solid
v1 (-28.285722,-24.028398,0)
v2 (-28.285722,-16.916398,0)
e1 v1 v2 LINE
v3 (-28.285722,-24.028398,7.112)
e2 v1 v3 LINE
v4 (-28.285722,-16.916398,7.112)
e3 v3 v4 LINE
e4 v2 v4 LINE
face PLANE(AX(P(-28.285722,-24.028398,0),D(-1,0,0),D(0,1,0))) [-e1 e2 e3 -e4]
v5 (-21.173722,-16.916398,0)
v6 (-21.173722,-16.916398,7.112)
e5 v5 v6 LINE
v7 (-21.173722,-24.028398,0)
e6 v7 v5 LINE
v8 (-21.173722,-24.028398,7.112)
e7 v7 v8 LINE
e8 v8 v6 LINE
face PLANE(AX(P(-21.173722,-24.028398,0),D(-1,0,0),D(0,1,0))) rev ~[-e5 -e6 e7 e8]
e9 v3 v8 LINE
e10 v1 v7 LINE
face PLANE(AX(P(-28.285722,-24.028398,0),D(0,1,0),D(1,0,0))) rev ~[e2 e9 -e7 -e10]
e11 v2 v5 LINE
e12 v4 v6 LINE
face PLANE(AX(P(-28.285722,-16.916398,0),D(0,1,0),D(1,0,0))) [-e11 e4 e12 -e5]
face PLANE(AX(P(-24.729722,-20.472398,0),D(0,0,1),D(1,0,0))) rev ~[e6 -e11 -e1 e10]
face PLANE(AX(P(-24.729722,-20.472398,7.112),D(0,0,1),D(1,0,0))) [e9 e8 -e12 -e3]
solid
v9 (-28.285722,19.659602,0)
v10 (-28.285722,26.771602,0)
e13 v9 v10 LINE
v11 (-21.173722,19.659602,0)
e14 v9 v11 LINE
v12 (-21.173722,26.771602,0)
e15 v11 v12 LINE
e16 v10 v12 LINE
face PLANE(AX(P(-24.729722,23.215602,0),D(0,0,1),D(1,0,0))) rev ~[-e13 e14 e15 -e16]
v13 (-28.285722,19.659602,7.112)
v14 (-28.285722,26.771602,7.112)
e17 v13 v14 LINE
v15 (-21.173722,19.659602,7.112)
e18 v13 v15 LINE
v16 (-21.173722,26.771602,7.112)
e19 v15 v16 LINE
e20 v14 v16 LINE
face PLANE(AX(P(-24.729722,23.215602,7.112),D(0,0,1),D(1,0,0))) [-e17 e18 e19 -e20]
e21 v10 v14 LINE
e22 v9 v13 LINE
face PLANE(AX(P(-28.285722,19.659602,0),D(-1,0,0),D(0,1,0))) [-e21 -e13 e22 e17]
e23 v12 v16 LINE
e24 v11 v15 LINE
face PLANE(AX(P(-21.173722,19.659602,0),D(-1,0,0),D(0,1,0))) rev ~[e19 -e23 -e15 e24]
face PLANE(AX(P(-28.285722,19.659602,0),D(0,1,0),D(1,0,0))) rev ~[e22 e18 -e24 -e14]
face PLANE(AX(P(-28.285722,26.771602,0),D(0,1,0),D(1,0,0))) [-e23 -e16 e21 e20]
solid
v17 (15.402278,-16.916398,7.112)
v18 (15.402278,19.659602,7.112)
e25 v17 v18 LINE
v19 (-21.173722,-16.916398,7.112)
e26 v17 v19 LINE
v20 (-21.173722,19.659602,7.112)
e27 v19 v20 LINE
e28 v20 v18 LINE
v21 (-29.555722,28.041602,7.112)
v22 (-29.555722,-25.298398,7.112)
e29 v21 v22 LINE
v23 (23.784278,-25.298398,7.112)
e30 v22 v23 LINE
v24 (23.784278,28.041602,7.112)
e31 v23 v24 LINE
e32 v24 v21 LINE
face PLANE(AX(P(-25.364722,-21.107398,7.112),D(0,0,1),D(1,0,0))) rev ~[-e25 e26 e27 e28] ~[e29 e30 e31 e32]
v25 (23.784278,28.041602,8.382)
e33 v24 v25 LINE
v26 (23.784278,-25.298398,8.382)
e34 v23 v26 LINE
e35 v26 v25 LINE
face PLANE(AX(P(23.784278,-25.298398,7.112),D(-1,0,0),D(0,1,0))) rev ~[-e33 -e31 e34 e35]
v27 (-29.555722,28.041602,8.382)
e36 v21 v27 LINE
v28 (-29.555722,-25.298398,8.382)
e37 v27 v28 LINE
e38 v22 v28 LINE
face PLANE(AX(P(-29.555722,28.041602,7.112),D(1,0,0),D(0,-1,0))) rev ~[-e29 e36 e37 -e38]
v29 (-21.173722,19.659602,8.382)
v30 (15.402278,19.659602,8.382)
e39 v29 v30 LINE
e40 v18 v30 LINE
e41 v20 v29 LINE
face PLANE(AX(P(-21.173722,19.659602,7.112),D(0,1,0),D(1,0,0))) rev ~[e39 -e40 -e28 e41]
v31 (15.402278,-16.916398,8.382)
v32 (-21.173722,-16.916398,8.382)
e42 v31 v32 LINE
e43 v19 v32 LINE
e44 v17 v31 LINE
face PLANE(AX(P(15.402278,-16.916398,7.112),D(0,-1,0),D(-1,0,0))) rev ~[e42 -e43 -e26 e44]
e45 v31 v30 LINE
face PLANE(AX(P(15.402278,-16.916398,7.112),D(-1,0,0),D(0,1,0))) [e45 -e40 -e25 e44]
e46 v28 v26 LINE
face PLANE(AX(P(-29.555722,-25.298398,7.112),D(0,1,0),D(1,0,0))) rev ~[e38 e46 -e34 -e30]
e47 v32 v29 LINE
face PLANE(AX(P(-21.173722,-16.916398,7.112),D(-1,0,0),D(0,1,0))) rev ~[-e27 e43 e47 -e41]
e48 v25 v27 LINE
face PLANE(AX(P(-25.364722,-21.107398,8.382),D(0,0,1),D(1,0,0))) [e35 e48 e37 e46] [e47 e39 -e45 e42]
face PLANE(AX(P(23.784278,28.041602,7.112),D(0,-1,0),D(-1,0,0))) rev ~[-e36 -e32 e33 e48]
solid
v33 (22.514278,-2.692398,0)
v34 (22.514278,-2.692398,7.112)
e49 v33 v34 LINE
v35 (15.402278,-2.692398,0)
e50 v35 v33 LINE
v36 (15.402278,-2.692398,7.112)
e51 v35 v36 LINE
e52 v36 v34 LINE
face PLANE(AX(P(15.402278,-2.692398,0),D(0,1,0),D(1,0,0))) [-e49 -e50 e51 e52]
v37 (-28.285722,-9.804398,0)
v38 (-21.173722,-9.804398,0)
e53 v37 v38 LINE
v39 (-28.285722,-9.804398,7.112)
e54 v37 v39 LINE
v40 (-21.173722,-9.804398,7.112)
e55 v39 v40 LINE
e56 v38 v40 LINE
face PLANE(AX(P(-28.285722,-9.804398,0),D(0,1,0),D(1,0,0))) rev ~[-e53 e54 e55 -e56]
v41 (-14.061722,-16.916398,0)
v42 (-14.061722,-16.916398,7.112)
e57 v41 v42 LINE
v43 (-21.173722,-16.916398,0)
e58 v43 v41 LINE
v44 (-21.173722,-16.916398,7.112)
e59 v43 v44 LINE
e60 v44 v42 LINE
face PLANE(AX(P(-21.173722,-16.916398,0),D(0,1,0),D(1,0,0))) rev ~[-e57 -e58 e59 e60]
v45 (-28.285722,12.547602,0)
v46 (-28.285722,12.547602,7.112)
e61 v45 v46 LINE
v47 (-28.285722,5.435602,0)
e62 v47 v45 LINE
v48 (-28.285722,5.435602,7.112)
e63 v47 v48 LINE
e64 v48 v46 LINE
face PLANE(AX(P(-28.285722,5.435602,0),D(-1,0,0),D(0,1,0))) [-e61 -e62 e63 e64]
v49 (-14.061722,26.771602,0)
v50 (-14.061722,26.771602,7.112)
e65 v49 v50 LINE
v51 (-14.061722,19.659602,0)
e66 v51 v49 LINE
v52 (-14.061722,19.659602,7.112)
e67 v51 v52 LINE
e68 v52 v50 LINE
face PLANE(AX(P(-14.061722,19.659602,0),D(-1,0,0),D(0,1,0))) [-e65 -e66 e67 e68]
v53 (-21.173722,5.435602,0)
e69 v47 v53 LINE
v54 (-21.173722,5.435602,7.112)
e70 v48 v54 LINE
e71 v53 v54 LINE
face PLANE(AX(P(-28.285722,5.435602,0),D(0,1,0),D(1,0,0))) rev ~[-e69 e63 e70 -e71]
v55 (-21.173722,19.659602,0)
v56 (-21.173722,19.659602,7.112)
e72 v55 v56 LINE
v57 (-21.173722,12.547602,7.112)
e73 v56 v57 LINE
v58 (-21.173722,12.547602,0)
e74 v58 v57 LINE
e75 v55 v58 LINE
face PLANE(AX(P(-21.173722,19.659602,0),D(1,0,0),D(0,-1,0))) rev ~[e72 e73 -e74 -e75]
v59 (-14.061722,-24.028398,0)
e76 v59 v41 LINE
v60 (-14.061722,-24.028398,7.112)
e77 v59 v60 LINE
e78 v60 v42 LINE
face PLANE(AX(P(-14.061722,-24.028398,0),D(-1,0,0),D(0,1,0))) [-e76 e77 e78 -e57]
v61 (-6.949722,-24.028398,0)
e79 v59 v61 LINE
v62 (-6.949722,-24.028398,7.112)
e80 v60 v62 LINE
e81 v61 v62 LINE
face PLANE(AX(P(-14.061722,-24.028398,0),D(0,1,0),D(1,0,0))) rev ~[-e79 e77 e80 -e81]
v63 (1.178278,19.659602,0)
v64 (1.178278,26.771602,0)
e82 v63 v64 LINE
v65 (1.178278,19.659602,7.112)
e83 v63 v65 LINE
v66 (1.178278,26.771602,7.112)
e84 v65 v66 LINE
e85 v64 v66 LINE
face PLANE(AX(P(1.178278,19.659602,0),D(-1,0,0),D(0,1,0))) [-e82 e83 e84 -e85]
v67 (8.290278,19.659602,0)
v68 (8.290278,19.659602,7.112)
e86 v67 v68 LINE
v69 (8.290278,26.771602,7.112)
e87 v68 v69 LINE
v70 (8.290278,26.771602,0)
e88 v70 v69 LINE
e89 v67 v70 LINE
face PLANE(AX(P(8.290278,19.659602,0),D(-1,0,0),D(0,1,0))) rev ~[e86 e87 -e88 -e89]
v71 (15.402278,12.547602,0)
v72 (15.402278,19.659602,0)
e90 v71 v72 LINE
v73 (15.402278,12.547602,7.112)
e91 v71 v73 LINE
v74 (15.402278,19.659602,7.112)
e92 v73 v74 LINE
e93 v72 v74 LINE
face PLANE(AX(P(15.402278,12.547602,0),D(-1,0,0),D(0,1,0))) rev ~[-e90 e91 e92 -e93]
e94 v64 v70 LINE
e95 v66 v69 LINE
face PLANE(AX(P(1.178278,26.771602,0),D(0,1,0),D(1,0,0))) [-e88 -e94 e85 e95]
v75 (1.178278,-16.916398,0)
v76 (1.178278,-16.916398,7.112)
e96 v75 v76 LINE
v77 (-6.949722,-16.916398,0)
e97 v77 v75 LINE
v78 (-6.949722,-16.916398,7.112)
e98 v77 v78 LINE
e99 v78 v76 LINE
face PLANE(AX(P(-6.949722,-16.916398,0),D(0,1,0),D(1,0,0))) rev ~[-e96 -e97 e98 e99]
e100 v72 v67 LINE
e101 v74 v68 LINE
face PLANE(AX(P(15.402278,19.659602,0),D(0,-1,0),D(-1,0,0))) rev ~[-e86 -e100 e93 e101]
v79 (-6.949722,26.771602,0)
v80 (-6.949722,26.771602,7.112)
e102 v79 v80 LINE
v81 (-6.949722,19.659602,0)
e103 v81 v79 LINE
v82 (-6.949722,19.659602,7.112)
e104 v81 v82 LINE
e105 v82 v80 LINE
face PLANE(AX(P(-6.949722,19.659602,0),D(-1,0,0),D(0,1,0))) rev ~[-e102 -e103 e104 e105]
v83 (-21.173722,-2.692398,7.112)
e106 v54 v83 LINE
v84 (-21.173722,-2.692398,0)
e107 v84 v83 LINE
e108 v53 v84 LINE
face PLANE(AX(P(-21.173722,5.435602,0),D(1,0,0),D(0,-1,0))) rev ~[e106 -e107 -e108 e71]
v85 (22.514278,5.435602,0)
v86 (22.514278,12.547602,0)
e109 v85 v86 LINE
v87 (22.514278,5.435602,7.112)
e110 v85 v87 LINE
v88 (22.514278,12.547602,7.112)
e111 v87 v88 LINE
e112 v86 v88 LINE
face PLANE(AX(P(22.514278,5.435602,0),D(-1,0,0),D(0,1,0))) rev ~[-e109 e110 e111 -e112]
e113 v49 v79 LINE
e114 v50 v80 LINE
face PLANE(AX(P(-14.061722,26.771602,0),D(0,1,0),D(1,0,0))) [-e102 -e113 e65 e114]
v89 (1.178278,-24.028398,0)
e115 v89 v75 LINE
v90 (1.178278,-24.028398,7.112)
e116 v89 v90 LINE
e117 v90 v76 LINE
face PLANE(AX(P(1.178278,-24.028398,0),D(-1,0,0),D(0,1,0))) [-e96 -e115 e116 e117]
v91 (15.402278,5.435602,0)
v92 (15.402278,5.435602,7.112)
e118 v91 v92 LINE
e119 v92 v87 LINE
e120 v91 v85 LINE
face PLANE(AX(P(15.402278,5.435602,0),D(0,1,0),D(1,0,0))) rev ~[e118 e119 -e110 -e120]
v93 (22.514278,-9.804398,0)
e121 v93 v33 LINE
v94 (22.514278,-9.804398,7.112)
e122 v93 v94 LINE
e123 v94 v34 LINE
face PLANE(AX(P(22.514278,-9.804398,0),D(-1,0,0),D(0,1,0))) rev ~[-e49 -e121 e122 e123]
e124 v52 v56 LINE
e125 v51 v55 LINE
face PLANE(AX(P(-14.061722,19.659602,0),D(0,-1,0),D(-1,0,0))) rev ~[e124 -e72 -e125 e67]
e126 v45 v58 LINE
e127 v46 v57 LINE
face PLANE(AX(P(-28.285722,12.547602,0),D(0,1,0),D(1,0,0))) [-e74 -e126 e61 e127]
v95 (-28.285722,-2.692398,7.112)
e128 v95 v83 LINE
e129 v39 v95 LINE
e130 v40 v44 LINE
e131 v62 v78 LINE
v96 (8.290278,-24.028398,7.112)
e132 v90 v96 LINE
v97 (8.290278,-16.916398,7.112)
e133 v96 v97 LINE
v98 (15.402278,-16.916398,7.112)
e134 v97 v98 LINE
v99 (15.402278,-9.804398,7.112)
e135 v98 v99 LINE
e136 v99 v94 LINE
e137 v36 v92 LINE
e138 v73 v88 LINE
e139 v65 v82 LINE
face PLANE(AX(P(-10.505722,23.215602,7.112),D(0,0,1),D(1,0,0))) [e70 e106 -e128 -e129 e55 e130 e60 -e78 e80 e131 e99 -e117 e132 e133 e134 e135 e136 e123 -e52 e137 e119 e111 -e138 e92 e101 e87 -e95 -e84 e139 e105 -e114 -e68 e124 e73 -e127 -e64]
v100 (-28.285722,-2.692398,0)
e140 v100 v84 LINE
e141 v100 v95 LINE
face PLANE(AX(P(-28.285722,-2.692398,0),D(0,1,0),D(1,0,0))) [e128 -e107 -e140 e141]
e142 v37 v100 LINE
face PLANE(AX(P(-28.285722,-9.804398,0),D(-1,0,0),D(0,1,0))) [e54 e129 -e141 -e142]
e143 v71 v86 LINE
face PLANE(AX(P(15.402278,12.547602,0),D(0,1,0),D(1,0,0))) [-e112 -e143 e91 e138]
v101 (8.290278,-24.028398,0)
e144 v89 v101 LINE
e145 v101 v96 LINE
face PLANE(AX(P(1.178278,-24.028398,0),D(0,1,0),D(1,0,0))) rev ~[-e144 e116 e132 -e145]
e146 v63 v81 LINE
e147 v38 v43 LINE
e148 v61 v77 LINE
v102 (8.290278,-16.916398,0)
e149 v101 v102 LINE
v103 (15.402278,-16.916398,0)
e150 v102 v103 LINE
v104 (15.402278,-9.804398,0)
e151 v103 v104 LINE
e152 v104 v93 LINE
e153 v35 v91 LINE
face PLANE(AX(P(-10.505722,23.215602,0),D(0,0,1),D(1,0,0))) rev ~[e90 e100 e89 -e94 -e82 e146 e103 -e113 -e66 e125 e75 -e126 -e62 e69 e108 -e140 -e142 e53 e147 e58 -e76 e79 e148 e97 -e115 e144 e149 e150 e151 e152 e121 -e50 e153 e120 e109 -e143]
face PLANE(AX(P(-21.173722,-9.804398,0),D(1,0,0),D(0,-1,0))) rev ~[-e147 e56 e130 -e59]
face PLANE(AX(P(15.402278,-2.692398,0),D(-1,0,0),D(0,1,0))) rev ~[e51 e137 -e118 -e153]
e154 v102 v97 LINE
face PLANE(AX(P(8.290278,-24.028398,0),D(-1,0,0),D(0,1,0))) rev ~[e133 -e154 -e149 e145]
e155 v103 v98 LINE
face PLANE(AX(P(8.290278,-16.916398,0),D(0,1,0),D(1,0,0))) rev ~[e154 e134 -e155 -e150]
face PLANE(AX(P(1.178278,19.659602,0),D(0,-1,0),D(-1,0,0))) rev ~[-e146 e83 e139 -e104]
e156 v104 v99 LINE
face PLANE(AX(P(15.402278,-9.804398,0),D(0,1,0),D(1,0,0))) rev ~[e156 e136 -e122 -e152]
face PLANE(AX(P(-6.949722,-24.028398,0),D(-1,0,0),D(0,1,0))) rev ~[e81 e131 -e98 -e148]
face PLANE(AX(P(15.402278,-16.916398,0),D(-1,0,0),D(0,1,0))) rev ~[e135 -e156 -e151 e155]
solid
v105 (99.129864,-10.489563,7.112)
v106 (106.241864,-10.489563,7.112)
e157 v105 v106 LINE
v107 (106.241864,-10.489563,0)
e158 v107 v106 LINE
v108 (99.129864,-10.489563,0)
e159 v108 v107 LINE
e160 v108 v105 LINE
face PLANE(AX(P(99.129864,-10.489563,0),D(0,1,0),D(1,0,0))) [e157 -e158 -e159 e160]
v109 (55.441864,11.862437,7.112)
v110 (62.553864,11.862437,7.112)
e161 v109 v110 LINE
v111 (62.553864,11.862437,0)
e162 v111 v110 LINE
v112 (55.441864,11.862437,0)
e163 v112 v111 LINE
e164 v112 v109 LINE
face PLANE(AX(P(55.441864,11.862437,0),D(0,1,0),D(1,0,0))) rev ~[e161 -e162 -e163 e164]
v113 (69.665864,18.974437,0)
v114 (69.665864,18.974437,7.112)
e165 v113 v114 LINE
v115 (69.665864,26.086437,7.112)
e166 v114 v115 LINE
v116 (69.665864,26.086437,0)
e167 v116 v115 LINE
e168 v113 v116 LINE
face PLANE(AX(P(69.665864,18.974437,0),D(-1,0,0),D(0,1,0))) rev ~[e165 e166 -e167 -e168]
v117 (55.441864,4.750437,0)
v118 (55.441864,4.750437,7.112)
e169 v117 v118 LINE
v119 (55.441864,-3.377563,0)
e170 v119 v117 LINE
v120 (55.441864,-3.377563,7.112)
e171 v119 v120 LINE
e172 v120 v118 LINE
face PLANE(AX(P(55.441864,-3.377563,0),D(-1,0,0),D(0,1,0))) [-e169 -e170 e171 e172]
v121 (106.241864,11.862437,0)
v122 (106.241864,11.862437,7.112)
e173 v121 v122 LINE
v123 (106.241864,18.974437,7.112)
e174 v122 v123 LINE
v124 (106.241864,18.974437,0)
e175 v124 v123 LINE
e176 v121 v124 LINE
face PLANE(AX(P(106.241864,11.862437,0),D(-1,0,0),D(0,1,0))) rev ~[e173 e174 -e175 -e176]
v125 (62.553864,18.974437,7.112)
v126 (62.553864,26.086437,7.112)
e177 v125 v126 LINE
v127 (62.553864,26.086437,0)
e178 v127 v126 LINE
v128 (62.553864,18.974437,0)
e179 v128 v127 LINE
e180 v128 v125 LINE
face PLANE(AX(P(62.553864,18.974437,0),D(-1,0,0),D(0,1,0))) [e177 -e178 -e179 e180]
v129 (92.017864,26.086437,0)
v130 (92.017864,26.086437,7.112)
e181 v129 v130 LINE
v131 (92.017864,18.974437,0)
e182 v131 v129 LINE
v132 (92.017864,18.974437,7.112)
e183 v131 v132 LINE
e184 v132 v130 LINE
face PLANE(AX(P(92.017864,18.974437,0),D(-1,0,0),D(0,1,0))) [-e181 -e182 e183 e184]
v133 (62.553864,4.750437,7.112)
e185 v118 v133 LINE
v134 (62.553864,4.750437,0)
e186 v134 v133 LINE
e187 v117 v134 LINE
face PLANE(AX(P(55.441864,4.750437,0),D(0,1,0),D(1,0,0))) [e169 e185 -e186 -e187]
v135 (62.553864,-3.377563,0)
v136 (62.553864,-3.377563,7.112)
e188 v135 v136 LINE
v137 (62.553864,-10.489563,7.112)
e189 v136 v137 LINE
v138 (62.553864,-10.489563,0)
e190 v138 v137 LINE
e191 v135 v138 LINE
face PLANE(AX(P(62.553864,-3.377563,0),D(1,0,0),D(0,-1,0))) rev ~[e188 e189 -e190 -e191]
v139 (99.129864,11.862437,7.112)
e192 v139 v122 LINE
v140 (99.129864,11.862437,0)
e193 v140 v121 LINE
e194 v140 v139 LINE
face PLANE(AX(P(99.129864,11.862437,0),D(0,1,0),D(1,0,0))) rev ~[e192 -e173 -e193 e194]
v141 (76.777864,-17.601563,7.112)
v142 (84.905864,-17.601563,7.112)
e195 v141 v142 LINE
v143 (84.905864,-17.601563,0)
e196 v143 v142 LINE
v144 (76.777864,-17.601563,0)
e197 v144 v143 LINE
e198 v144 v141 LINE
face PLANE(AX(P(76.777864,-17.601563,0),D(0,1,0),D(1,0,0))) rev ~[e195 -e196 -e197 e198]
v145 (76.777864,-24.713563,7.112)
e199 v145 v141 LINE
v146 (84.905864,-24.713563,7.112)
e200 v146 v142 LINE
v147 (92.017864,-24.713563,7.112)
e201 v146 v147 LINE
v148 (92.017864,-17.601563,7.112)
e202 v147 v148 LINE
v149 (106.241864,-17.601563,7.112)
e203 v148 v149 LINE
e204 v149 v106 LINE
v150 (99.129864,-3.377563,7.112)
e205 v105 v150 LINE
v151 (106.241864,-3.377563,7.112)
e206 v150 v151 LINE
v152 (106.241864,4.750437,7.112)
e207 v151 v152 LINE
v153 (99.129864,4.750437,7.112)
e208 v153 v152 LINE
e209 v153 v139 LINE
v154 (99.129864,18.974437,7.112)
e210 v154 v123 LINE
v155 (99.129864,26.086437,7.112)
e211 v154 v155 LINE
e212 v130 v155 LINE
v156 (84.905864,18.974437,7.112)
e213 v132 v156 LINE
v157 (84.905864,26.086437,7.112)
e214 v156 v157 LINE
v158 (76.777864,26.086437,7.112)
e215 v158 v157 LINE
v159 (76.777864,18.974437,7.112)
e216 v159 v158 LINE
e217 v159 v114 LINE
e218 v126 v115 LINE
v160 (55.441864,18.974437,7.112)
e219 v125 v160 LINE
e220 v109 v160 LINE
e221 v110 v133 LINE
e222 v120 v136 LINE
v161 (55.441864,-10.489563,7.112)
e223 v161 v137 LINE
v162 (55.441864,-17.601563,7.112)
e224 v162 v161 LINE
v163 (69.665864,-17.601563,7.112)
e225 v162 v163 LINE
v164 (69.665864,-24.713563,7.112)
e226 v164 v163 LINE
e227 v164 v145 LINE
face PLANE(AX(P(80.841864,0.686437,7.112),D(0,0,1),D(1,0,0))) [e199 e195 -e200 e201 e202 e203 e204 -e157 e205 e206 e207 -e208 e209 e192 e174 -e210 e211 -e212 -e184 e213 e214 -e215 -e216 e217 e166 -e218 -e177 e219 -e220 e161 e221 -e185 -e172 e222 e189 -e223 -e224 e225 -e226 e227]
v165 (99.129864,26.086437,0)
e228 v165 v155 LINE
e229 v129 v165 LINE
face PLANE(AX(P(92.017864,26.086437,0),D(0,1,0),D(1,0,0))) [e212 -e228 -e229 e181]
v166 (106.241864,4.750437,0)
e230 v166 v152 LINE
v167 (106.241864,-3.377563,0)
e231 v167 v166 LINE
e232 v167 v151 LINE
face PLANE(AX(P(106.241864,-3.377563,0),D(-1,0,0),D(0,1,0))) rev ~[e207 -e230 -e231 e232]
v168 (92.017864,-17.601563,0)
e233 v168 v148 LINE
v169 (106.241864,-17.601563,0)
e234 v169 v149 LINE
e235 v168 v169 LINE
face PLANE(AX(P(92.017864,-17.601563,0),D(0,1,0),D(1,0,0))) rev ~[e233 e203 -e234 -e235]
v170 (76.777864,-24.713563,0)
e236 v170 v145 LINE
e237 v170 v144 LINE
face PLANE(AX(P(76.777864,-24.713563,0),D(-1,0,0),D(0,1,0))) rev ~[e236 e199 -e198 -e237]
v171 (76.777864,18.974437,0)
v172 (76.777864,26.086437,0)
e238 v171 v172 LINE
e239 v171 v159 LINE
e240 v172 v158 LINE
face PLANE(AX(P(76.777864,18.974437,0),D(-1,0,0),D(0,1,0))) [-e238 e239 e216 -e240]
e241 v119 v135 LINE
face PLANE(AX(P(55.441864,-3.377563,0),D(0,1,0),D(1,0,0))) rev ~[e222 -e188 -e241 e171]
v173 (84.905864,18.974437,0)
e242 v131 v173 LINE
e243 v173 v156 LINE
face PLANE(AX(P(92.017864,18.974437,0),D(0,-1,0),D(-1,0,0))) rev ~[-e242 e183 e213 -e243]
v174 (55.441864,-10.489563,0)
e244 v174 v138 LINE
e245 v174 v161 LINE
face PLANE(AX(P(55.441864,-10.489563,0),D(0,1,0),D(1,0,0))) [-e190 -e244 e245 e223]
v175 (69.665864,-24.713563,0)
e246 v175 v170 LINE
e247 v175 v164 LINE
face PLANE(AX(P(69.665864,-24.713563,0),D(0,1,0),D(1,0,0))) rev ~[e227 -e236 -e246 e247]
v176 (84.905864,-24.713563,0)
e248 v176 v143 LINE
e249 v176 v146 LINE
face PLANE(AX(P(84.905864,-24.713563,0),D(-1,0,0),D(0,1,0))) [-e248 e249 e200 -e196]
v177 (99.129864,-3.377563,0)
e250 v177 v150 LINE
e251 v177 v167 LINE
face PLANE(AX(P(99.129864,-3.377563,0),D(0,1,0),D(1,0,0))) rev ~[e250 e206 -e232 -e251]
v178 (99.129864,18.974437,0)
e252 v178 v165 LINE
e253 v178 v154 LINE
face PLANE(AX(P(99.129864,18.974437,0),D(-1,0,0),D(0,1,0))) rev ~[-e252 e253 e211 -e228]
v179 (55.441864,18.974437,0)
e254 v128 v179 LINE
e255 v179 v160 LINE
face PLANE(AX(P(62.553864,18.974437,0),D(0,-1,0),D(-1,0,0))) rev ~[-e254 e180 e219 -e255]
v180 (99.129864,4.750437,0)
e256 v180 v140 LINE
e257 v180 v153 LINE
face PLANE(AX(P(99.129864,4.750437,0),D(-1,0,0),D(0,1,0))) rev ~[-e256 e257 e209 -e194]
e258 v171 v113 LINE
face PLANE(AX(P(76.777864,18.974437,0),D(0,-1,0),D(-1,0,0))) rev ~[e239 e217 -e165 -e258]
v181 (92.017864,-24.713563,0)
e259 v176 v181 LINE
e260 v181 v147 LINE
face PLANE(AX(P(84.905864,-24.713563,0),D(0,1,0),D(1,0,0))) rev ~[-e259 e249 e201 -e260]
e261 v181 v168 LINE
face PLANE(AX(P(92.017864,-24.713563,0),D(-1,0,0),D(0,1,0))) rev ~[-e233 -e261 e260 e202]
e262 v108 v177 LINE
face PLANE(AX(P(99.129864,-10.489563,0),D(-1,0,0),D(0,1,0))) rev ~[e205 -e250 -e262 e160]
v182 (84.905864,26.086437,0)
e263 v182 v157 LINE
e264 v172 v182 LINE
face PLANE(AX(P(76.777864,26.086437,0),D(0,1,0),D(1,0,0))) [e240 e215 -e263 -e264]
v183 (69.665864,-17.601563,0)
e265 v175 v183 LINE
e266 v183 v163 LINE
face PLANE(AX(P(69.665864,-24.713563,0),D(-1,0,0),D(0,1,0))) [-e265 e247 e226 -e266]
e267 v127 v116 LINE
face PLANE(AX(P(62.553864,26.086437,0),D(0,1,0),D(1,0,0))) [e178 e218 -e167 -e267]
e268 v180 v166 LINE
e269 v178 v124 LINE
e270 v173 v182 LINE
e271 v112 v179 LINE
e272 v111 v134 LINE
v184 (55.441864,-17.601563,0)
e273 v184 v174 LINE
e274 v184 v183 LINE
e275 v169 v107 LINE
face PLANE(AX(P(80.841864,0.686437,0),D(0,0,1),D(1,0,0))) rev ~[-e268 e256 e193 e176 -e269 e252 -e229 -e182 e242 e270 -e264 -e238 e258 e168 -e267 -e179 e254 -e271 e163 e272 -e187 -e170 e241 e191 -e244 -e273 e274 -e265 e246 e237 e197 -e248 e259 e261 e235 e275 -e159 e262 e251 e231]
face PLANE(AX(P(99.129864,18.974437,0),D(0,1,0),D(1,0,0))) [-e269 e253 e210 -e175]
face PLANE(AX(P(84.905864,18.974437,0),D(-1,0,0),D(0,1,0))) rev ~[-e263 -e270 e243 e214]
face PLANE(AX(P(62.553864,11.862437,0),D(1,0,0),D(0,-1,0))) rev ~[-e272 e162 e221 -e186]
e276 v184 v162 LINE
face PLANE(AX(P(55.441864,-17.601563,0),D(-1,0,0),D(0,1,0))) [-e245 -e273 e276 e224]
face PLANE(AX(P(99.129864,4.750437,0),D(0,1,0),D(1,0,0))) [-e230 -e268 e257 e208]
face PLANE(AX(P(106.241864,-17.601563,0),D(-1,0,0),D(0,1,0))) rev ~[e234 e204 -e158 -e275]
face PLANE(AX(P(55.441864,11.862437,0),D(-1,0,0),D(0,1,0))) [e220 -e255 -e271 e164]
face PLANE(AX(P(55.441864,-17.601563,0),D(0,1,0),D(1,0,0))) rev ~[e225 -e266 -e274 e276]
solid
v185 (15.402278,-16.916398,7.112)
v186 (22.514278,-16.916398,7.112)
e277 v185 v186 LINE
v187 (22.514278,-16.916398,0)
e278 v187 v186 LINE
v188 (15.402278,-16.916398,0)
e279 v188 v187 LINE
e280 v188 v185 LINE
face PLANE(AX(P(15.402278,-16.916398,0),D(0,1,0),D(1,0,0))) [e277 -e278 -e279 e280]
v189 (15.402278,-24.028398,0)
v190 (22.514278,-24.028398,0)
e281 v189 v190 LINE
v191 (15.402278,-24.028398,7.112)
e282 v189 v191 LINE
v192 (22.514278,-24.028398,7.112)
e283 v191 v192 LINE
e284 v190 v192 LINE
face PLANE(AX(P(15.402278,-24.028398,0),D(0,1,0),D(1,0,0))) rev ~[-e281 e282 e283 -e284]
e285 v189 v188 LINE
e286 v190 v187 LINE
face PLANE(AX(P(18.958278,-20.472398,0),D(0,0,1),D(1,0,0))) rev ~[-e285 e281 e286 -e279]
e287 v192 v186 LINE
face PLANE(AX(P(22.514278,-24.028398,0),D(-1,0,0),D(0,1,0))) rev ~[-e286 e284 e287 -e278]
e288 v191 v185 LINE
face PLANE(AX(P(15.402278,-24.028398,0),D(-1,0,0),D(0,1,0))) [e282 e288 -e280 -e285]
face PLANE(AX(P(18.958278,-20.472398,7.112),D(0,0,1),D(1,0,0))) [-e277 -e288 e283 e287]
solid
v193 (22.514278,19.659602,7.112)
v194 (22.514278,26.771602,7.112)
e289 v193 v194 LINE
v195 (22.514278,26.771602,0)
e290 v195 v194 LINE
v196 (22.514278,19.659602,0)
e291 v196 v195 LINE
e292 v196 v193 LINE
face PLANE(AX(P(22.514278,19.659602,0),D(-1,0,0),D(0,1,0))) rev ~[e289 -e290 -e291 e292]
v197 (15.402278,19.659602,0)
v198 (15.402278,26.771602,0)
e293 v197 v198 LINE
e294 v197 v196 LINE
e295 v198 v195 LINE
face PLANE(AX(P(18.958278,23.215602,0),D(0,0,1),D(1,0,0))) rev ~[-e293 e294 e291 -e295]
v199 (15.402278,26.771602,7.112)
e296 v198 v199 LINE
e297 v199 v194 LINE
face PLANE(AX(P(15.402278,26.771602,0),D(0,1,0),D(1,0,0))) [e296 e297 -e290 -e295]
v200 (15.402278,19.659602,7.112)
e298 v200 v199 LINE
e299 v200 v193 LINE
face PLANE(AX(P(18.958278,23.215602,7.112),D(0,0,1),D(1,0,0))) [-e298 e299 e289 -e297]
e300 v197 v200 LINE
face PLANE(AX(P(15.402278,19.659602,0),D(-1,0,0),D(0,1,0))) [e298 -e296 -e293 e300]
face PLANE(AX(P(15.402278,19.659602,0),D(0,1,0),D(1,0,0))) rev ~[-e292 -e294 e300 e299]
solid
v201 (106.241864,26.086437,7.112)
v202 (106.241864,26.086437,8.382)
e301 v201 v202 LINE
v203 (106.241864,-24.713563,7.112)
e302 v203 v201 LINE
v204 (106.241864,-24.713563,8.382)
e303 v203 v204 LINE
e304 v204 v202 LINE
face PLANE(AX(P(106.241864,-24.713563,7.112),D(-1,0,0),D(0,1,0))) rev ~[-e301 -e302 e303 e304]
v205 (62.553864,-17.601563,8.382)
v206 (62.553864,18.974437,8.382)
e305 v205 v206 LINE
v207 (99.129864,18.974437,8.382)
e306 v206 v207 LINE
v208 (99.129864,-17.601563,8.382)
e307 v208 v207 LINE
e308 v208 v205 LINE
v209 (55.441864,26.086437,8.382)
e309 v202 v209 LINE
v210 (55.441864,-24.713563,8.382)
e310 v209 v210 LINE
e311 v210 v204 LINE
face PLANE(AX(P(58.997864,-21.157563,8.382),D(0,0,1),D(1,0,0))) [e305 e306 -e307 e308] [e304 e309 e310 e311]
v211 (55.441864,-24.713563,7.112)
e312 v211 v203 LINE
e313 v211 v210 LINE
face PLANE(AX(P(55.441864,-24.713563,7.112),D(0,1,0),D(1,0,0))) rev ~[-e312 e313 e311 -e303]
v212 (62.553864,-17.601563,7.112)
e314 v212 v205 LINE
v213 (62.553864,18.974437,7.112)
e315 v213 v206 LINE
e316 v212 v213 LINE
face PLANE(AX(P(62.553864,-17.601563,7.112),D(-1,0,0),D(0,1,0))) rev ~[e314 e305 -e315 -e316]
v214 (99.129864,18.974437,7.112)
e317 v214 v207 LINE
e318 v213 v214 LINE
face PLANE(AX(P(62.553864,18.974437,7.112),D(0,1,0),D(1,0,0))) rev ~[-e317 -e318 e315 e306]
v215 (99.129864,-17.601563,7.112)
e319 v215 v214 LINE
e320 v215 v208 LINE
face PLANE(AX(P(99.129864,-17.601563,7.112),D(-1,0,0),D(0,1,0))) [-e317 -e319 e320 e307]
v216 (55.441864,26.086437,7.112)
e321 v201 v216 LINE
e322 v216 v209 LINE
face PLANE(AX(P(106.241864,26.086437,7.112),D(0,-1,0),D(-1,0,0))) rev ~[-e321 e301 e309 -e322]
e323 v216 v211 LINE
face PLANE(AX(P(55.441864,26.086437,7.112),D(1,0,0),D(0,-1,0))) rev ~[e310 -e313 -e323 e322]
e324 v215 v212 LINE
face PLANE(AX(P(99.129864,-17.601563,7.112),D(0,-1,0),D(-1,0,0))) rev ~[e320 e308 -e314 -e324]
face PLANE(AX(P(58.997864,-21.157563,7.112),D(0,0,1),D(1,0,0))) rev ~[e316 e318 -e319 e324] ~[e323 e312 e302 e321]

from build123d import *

# Parameters (mm, degrees)
F0_W     = 7.112
F0_H     = 7.112
F0_W_2   = 8.128
F0_H_2   = 8.128
F1_DEPTH = 7.112
F2_W     = 8.382
F2_H     = 8.382
F2_W_2   = 36.576
F2_H_2   = 36.576
F3_DEPTH = 1.27
F4_W     = 7.112
F4_H     = 7.112
F4_W_2   = 36.576
F4_H_2   = 36.576
F5_DEPTH = 1.27


with BuildPart() as f1:
    # F0 (on Top) → F1 (new body)
    with BuildSketch(Plane.XY):
        with Locations((-24.729722, 23.215602)):
            Rectangle(F0_W, F0_H)
        with Locations((-10.505722, 23.215602)):
            Rectangle(F0_W, F0_H)
        with Locations((4.734278, 23.215602)):
            Rectangle(F0_W, F0_H)
        with Locations((18.958278, 23.215602)):
            Rectangle(F0_W, F0_H)
        with Locations((18.958278, 8.991602)):
            Rectangle(F0_W, F0_H)
        with Locations((18.958278, -6.248398)):
            Rectangle(F0_W, F0_H)
        with Locations((18.958278, -20.472398)):
            Rectangle(F0_W, F0_H)
        with Locations((4.734278, -20.472398)):
            Rectangle(F0_W, F0_H)
        Polygon((-14.061722, 19.659602), (-21.173722, 19.659602), (-21.173722, 12.547602), (-21.173722, 5.435602), (-21.173722, -2.692398), (-21.173722, -9.804398), (-21.173722, -16.916398), (-14.061722, -16.916398), (-6.949722, -16.916398), (1.178278, -16.916398), (8.290278, -16.916398), (15.402278, -16.916398), (15.402278, -9.804398), (15.402278, -2.692398), (15.402278, 5.435602), (15.402278, 12.547602), (15.402278, 19.659602), (8.290278, 19.659602), (1.178278, 19.659602), (-6.949722, 19.659602), align=None)
        with Locations((-10.505722, -20.472398)):
            Rectangle(F0_W, F0_H)
        with Locations((-24.729722, -20.472398)):
            Rectangle(F0_W, F0_H)
        with Locations((-24.729722, -6.248398)):
            Rectangle(F0_W, F0_H)
        with Locations((-24.729722, 8.991602)):
            Rectangle(F0_W, F0_H)
        Polygon((69.665864, 18.974437), (62.553864, 18.974437), (62.553864, 11.862437), (62.553864, 4.750437), (62.553864, -3.377563), (62.553864, -10.489563), (62.553864, -17.601563), (69.665864, -17.601563), (76.777864, -17.601563), (84.905864, -17.601563), (92.017864, -17.601563), (99.129864, -17.601563), (99.129864, -10.489563), (99.129864, -3.377563), (99.129864, 4.750437), (99.129864, 11.862437), (99.129864, 18.974437), (92.017864, 18.974437), (84.905864, 18.974437), (76.777864, 18.974437), align=None)
        with Locations((95.573864, 22.530437)):
            Rectangle(F0_W, F0_H)
        with Locations((80.841864, 22.530437)):
            Rectangle(F0_W_2, F0_H)
        with Locations((58.997864, 15.418437)):
            Rectangle(F0_W, F0_H)
        with Locations((58.997864, 0.686437)):
            Rectangle(F0_W, F0_H_2)
        with Locations((102.685864, -14.045563)):
            Rectangle(F0_W, F0_H)
        with Locations((102.685864, 0.686437)):
            Rectangle(F0_W, F0_H_2)
        with Locations((58.997864, -14.045563)):
            Rectangle(F0_W, F0_H)
        with Locations((102.685864, 15.418437)):
            Rectangle(F0_W, F0_H)
        with Locations((66.109864, 22.530437)):
            Rectangle(F0_W, F0_H)
        with Locations((73.221864, -21.157563)):
            Rectangle(F0_W, F0_H)
        with Locations((88.461864, -21.157563)):
            Rectangle(F0_W, F0_H)
    extrude(amount=F1_DEPTH)


with BuildPart() as f3:
    # F2 (on face) → F3 (new body)
    with BuildSketch(Plane.XY.offset(7.112)):
        with Locations((-25.364722, -21.107398)):
            Rectangle(F2_W, F2_H)
        with Locations((-2.885722, -21.107398)):
            Rectangle(F2_W_2, F2_H)
        with Locations((-25.364722, 1.371602)):
            Rectangle(F2_W, F2_H_2)
        with Locations((19.593278, -21.107398)):
            Rectangle(F2_W, F2_H)
        with Locations((-25.364722, 23.850602)):
            Rectangle(F2_W, F2_H)
        with Locations((19.593278, 1.371602)):
            Rectangle(F2_W, F2_H_2)
        with Locations((-2.885722, 23.850602)):
            Rectangle(F2_W_2, F2_H)
        with Locations((19.593278, 23.850602)):
            Rectangle(F2_W, F2_H)
    extrude(amount=F3_DEPTH)


with BuildPart() as f5:
    # F4 (on face) → F5 (new body)
    with BuildSketch(Plane.XY.offset(7.112)):
        with Locations((58.997864, -21.157563)):
            Rectangle(F4_W, F4_H)
        with Locations((80.841864, -21.157563)):
            Rectangle(F4_W_2, F4_H)
        with Locations((58.997864, 0.686437)):
            Rectangle(F4_W, F4_H_2)
        with Locations((102.685864, -21.157563)):
            Rectangle(F4_W, F4_H)
        with Locations((58.997864, 22.530437)):
            Rectangle(F4_W, F4_H)
        with Locations((80.841864, 22.530437)):
            Rectangle(F4_W_2, F4_H)
        with Locations((102.685864, 0.686437)):
            Rectangle(F4_W, F4_H_2)
        with Locations((102.685864, 22.530437)):
            Rectangle(F4_W, F4_H)
    extrude(amount=F5_DEPTH)


solid = Compound([f1.part, f3.part, f5.part])
